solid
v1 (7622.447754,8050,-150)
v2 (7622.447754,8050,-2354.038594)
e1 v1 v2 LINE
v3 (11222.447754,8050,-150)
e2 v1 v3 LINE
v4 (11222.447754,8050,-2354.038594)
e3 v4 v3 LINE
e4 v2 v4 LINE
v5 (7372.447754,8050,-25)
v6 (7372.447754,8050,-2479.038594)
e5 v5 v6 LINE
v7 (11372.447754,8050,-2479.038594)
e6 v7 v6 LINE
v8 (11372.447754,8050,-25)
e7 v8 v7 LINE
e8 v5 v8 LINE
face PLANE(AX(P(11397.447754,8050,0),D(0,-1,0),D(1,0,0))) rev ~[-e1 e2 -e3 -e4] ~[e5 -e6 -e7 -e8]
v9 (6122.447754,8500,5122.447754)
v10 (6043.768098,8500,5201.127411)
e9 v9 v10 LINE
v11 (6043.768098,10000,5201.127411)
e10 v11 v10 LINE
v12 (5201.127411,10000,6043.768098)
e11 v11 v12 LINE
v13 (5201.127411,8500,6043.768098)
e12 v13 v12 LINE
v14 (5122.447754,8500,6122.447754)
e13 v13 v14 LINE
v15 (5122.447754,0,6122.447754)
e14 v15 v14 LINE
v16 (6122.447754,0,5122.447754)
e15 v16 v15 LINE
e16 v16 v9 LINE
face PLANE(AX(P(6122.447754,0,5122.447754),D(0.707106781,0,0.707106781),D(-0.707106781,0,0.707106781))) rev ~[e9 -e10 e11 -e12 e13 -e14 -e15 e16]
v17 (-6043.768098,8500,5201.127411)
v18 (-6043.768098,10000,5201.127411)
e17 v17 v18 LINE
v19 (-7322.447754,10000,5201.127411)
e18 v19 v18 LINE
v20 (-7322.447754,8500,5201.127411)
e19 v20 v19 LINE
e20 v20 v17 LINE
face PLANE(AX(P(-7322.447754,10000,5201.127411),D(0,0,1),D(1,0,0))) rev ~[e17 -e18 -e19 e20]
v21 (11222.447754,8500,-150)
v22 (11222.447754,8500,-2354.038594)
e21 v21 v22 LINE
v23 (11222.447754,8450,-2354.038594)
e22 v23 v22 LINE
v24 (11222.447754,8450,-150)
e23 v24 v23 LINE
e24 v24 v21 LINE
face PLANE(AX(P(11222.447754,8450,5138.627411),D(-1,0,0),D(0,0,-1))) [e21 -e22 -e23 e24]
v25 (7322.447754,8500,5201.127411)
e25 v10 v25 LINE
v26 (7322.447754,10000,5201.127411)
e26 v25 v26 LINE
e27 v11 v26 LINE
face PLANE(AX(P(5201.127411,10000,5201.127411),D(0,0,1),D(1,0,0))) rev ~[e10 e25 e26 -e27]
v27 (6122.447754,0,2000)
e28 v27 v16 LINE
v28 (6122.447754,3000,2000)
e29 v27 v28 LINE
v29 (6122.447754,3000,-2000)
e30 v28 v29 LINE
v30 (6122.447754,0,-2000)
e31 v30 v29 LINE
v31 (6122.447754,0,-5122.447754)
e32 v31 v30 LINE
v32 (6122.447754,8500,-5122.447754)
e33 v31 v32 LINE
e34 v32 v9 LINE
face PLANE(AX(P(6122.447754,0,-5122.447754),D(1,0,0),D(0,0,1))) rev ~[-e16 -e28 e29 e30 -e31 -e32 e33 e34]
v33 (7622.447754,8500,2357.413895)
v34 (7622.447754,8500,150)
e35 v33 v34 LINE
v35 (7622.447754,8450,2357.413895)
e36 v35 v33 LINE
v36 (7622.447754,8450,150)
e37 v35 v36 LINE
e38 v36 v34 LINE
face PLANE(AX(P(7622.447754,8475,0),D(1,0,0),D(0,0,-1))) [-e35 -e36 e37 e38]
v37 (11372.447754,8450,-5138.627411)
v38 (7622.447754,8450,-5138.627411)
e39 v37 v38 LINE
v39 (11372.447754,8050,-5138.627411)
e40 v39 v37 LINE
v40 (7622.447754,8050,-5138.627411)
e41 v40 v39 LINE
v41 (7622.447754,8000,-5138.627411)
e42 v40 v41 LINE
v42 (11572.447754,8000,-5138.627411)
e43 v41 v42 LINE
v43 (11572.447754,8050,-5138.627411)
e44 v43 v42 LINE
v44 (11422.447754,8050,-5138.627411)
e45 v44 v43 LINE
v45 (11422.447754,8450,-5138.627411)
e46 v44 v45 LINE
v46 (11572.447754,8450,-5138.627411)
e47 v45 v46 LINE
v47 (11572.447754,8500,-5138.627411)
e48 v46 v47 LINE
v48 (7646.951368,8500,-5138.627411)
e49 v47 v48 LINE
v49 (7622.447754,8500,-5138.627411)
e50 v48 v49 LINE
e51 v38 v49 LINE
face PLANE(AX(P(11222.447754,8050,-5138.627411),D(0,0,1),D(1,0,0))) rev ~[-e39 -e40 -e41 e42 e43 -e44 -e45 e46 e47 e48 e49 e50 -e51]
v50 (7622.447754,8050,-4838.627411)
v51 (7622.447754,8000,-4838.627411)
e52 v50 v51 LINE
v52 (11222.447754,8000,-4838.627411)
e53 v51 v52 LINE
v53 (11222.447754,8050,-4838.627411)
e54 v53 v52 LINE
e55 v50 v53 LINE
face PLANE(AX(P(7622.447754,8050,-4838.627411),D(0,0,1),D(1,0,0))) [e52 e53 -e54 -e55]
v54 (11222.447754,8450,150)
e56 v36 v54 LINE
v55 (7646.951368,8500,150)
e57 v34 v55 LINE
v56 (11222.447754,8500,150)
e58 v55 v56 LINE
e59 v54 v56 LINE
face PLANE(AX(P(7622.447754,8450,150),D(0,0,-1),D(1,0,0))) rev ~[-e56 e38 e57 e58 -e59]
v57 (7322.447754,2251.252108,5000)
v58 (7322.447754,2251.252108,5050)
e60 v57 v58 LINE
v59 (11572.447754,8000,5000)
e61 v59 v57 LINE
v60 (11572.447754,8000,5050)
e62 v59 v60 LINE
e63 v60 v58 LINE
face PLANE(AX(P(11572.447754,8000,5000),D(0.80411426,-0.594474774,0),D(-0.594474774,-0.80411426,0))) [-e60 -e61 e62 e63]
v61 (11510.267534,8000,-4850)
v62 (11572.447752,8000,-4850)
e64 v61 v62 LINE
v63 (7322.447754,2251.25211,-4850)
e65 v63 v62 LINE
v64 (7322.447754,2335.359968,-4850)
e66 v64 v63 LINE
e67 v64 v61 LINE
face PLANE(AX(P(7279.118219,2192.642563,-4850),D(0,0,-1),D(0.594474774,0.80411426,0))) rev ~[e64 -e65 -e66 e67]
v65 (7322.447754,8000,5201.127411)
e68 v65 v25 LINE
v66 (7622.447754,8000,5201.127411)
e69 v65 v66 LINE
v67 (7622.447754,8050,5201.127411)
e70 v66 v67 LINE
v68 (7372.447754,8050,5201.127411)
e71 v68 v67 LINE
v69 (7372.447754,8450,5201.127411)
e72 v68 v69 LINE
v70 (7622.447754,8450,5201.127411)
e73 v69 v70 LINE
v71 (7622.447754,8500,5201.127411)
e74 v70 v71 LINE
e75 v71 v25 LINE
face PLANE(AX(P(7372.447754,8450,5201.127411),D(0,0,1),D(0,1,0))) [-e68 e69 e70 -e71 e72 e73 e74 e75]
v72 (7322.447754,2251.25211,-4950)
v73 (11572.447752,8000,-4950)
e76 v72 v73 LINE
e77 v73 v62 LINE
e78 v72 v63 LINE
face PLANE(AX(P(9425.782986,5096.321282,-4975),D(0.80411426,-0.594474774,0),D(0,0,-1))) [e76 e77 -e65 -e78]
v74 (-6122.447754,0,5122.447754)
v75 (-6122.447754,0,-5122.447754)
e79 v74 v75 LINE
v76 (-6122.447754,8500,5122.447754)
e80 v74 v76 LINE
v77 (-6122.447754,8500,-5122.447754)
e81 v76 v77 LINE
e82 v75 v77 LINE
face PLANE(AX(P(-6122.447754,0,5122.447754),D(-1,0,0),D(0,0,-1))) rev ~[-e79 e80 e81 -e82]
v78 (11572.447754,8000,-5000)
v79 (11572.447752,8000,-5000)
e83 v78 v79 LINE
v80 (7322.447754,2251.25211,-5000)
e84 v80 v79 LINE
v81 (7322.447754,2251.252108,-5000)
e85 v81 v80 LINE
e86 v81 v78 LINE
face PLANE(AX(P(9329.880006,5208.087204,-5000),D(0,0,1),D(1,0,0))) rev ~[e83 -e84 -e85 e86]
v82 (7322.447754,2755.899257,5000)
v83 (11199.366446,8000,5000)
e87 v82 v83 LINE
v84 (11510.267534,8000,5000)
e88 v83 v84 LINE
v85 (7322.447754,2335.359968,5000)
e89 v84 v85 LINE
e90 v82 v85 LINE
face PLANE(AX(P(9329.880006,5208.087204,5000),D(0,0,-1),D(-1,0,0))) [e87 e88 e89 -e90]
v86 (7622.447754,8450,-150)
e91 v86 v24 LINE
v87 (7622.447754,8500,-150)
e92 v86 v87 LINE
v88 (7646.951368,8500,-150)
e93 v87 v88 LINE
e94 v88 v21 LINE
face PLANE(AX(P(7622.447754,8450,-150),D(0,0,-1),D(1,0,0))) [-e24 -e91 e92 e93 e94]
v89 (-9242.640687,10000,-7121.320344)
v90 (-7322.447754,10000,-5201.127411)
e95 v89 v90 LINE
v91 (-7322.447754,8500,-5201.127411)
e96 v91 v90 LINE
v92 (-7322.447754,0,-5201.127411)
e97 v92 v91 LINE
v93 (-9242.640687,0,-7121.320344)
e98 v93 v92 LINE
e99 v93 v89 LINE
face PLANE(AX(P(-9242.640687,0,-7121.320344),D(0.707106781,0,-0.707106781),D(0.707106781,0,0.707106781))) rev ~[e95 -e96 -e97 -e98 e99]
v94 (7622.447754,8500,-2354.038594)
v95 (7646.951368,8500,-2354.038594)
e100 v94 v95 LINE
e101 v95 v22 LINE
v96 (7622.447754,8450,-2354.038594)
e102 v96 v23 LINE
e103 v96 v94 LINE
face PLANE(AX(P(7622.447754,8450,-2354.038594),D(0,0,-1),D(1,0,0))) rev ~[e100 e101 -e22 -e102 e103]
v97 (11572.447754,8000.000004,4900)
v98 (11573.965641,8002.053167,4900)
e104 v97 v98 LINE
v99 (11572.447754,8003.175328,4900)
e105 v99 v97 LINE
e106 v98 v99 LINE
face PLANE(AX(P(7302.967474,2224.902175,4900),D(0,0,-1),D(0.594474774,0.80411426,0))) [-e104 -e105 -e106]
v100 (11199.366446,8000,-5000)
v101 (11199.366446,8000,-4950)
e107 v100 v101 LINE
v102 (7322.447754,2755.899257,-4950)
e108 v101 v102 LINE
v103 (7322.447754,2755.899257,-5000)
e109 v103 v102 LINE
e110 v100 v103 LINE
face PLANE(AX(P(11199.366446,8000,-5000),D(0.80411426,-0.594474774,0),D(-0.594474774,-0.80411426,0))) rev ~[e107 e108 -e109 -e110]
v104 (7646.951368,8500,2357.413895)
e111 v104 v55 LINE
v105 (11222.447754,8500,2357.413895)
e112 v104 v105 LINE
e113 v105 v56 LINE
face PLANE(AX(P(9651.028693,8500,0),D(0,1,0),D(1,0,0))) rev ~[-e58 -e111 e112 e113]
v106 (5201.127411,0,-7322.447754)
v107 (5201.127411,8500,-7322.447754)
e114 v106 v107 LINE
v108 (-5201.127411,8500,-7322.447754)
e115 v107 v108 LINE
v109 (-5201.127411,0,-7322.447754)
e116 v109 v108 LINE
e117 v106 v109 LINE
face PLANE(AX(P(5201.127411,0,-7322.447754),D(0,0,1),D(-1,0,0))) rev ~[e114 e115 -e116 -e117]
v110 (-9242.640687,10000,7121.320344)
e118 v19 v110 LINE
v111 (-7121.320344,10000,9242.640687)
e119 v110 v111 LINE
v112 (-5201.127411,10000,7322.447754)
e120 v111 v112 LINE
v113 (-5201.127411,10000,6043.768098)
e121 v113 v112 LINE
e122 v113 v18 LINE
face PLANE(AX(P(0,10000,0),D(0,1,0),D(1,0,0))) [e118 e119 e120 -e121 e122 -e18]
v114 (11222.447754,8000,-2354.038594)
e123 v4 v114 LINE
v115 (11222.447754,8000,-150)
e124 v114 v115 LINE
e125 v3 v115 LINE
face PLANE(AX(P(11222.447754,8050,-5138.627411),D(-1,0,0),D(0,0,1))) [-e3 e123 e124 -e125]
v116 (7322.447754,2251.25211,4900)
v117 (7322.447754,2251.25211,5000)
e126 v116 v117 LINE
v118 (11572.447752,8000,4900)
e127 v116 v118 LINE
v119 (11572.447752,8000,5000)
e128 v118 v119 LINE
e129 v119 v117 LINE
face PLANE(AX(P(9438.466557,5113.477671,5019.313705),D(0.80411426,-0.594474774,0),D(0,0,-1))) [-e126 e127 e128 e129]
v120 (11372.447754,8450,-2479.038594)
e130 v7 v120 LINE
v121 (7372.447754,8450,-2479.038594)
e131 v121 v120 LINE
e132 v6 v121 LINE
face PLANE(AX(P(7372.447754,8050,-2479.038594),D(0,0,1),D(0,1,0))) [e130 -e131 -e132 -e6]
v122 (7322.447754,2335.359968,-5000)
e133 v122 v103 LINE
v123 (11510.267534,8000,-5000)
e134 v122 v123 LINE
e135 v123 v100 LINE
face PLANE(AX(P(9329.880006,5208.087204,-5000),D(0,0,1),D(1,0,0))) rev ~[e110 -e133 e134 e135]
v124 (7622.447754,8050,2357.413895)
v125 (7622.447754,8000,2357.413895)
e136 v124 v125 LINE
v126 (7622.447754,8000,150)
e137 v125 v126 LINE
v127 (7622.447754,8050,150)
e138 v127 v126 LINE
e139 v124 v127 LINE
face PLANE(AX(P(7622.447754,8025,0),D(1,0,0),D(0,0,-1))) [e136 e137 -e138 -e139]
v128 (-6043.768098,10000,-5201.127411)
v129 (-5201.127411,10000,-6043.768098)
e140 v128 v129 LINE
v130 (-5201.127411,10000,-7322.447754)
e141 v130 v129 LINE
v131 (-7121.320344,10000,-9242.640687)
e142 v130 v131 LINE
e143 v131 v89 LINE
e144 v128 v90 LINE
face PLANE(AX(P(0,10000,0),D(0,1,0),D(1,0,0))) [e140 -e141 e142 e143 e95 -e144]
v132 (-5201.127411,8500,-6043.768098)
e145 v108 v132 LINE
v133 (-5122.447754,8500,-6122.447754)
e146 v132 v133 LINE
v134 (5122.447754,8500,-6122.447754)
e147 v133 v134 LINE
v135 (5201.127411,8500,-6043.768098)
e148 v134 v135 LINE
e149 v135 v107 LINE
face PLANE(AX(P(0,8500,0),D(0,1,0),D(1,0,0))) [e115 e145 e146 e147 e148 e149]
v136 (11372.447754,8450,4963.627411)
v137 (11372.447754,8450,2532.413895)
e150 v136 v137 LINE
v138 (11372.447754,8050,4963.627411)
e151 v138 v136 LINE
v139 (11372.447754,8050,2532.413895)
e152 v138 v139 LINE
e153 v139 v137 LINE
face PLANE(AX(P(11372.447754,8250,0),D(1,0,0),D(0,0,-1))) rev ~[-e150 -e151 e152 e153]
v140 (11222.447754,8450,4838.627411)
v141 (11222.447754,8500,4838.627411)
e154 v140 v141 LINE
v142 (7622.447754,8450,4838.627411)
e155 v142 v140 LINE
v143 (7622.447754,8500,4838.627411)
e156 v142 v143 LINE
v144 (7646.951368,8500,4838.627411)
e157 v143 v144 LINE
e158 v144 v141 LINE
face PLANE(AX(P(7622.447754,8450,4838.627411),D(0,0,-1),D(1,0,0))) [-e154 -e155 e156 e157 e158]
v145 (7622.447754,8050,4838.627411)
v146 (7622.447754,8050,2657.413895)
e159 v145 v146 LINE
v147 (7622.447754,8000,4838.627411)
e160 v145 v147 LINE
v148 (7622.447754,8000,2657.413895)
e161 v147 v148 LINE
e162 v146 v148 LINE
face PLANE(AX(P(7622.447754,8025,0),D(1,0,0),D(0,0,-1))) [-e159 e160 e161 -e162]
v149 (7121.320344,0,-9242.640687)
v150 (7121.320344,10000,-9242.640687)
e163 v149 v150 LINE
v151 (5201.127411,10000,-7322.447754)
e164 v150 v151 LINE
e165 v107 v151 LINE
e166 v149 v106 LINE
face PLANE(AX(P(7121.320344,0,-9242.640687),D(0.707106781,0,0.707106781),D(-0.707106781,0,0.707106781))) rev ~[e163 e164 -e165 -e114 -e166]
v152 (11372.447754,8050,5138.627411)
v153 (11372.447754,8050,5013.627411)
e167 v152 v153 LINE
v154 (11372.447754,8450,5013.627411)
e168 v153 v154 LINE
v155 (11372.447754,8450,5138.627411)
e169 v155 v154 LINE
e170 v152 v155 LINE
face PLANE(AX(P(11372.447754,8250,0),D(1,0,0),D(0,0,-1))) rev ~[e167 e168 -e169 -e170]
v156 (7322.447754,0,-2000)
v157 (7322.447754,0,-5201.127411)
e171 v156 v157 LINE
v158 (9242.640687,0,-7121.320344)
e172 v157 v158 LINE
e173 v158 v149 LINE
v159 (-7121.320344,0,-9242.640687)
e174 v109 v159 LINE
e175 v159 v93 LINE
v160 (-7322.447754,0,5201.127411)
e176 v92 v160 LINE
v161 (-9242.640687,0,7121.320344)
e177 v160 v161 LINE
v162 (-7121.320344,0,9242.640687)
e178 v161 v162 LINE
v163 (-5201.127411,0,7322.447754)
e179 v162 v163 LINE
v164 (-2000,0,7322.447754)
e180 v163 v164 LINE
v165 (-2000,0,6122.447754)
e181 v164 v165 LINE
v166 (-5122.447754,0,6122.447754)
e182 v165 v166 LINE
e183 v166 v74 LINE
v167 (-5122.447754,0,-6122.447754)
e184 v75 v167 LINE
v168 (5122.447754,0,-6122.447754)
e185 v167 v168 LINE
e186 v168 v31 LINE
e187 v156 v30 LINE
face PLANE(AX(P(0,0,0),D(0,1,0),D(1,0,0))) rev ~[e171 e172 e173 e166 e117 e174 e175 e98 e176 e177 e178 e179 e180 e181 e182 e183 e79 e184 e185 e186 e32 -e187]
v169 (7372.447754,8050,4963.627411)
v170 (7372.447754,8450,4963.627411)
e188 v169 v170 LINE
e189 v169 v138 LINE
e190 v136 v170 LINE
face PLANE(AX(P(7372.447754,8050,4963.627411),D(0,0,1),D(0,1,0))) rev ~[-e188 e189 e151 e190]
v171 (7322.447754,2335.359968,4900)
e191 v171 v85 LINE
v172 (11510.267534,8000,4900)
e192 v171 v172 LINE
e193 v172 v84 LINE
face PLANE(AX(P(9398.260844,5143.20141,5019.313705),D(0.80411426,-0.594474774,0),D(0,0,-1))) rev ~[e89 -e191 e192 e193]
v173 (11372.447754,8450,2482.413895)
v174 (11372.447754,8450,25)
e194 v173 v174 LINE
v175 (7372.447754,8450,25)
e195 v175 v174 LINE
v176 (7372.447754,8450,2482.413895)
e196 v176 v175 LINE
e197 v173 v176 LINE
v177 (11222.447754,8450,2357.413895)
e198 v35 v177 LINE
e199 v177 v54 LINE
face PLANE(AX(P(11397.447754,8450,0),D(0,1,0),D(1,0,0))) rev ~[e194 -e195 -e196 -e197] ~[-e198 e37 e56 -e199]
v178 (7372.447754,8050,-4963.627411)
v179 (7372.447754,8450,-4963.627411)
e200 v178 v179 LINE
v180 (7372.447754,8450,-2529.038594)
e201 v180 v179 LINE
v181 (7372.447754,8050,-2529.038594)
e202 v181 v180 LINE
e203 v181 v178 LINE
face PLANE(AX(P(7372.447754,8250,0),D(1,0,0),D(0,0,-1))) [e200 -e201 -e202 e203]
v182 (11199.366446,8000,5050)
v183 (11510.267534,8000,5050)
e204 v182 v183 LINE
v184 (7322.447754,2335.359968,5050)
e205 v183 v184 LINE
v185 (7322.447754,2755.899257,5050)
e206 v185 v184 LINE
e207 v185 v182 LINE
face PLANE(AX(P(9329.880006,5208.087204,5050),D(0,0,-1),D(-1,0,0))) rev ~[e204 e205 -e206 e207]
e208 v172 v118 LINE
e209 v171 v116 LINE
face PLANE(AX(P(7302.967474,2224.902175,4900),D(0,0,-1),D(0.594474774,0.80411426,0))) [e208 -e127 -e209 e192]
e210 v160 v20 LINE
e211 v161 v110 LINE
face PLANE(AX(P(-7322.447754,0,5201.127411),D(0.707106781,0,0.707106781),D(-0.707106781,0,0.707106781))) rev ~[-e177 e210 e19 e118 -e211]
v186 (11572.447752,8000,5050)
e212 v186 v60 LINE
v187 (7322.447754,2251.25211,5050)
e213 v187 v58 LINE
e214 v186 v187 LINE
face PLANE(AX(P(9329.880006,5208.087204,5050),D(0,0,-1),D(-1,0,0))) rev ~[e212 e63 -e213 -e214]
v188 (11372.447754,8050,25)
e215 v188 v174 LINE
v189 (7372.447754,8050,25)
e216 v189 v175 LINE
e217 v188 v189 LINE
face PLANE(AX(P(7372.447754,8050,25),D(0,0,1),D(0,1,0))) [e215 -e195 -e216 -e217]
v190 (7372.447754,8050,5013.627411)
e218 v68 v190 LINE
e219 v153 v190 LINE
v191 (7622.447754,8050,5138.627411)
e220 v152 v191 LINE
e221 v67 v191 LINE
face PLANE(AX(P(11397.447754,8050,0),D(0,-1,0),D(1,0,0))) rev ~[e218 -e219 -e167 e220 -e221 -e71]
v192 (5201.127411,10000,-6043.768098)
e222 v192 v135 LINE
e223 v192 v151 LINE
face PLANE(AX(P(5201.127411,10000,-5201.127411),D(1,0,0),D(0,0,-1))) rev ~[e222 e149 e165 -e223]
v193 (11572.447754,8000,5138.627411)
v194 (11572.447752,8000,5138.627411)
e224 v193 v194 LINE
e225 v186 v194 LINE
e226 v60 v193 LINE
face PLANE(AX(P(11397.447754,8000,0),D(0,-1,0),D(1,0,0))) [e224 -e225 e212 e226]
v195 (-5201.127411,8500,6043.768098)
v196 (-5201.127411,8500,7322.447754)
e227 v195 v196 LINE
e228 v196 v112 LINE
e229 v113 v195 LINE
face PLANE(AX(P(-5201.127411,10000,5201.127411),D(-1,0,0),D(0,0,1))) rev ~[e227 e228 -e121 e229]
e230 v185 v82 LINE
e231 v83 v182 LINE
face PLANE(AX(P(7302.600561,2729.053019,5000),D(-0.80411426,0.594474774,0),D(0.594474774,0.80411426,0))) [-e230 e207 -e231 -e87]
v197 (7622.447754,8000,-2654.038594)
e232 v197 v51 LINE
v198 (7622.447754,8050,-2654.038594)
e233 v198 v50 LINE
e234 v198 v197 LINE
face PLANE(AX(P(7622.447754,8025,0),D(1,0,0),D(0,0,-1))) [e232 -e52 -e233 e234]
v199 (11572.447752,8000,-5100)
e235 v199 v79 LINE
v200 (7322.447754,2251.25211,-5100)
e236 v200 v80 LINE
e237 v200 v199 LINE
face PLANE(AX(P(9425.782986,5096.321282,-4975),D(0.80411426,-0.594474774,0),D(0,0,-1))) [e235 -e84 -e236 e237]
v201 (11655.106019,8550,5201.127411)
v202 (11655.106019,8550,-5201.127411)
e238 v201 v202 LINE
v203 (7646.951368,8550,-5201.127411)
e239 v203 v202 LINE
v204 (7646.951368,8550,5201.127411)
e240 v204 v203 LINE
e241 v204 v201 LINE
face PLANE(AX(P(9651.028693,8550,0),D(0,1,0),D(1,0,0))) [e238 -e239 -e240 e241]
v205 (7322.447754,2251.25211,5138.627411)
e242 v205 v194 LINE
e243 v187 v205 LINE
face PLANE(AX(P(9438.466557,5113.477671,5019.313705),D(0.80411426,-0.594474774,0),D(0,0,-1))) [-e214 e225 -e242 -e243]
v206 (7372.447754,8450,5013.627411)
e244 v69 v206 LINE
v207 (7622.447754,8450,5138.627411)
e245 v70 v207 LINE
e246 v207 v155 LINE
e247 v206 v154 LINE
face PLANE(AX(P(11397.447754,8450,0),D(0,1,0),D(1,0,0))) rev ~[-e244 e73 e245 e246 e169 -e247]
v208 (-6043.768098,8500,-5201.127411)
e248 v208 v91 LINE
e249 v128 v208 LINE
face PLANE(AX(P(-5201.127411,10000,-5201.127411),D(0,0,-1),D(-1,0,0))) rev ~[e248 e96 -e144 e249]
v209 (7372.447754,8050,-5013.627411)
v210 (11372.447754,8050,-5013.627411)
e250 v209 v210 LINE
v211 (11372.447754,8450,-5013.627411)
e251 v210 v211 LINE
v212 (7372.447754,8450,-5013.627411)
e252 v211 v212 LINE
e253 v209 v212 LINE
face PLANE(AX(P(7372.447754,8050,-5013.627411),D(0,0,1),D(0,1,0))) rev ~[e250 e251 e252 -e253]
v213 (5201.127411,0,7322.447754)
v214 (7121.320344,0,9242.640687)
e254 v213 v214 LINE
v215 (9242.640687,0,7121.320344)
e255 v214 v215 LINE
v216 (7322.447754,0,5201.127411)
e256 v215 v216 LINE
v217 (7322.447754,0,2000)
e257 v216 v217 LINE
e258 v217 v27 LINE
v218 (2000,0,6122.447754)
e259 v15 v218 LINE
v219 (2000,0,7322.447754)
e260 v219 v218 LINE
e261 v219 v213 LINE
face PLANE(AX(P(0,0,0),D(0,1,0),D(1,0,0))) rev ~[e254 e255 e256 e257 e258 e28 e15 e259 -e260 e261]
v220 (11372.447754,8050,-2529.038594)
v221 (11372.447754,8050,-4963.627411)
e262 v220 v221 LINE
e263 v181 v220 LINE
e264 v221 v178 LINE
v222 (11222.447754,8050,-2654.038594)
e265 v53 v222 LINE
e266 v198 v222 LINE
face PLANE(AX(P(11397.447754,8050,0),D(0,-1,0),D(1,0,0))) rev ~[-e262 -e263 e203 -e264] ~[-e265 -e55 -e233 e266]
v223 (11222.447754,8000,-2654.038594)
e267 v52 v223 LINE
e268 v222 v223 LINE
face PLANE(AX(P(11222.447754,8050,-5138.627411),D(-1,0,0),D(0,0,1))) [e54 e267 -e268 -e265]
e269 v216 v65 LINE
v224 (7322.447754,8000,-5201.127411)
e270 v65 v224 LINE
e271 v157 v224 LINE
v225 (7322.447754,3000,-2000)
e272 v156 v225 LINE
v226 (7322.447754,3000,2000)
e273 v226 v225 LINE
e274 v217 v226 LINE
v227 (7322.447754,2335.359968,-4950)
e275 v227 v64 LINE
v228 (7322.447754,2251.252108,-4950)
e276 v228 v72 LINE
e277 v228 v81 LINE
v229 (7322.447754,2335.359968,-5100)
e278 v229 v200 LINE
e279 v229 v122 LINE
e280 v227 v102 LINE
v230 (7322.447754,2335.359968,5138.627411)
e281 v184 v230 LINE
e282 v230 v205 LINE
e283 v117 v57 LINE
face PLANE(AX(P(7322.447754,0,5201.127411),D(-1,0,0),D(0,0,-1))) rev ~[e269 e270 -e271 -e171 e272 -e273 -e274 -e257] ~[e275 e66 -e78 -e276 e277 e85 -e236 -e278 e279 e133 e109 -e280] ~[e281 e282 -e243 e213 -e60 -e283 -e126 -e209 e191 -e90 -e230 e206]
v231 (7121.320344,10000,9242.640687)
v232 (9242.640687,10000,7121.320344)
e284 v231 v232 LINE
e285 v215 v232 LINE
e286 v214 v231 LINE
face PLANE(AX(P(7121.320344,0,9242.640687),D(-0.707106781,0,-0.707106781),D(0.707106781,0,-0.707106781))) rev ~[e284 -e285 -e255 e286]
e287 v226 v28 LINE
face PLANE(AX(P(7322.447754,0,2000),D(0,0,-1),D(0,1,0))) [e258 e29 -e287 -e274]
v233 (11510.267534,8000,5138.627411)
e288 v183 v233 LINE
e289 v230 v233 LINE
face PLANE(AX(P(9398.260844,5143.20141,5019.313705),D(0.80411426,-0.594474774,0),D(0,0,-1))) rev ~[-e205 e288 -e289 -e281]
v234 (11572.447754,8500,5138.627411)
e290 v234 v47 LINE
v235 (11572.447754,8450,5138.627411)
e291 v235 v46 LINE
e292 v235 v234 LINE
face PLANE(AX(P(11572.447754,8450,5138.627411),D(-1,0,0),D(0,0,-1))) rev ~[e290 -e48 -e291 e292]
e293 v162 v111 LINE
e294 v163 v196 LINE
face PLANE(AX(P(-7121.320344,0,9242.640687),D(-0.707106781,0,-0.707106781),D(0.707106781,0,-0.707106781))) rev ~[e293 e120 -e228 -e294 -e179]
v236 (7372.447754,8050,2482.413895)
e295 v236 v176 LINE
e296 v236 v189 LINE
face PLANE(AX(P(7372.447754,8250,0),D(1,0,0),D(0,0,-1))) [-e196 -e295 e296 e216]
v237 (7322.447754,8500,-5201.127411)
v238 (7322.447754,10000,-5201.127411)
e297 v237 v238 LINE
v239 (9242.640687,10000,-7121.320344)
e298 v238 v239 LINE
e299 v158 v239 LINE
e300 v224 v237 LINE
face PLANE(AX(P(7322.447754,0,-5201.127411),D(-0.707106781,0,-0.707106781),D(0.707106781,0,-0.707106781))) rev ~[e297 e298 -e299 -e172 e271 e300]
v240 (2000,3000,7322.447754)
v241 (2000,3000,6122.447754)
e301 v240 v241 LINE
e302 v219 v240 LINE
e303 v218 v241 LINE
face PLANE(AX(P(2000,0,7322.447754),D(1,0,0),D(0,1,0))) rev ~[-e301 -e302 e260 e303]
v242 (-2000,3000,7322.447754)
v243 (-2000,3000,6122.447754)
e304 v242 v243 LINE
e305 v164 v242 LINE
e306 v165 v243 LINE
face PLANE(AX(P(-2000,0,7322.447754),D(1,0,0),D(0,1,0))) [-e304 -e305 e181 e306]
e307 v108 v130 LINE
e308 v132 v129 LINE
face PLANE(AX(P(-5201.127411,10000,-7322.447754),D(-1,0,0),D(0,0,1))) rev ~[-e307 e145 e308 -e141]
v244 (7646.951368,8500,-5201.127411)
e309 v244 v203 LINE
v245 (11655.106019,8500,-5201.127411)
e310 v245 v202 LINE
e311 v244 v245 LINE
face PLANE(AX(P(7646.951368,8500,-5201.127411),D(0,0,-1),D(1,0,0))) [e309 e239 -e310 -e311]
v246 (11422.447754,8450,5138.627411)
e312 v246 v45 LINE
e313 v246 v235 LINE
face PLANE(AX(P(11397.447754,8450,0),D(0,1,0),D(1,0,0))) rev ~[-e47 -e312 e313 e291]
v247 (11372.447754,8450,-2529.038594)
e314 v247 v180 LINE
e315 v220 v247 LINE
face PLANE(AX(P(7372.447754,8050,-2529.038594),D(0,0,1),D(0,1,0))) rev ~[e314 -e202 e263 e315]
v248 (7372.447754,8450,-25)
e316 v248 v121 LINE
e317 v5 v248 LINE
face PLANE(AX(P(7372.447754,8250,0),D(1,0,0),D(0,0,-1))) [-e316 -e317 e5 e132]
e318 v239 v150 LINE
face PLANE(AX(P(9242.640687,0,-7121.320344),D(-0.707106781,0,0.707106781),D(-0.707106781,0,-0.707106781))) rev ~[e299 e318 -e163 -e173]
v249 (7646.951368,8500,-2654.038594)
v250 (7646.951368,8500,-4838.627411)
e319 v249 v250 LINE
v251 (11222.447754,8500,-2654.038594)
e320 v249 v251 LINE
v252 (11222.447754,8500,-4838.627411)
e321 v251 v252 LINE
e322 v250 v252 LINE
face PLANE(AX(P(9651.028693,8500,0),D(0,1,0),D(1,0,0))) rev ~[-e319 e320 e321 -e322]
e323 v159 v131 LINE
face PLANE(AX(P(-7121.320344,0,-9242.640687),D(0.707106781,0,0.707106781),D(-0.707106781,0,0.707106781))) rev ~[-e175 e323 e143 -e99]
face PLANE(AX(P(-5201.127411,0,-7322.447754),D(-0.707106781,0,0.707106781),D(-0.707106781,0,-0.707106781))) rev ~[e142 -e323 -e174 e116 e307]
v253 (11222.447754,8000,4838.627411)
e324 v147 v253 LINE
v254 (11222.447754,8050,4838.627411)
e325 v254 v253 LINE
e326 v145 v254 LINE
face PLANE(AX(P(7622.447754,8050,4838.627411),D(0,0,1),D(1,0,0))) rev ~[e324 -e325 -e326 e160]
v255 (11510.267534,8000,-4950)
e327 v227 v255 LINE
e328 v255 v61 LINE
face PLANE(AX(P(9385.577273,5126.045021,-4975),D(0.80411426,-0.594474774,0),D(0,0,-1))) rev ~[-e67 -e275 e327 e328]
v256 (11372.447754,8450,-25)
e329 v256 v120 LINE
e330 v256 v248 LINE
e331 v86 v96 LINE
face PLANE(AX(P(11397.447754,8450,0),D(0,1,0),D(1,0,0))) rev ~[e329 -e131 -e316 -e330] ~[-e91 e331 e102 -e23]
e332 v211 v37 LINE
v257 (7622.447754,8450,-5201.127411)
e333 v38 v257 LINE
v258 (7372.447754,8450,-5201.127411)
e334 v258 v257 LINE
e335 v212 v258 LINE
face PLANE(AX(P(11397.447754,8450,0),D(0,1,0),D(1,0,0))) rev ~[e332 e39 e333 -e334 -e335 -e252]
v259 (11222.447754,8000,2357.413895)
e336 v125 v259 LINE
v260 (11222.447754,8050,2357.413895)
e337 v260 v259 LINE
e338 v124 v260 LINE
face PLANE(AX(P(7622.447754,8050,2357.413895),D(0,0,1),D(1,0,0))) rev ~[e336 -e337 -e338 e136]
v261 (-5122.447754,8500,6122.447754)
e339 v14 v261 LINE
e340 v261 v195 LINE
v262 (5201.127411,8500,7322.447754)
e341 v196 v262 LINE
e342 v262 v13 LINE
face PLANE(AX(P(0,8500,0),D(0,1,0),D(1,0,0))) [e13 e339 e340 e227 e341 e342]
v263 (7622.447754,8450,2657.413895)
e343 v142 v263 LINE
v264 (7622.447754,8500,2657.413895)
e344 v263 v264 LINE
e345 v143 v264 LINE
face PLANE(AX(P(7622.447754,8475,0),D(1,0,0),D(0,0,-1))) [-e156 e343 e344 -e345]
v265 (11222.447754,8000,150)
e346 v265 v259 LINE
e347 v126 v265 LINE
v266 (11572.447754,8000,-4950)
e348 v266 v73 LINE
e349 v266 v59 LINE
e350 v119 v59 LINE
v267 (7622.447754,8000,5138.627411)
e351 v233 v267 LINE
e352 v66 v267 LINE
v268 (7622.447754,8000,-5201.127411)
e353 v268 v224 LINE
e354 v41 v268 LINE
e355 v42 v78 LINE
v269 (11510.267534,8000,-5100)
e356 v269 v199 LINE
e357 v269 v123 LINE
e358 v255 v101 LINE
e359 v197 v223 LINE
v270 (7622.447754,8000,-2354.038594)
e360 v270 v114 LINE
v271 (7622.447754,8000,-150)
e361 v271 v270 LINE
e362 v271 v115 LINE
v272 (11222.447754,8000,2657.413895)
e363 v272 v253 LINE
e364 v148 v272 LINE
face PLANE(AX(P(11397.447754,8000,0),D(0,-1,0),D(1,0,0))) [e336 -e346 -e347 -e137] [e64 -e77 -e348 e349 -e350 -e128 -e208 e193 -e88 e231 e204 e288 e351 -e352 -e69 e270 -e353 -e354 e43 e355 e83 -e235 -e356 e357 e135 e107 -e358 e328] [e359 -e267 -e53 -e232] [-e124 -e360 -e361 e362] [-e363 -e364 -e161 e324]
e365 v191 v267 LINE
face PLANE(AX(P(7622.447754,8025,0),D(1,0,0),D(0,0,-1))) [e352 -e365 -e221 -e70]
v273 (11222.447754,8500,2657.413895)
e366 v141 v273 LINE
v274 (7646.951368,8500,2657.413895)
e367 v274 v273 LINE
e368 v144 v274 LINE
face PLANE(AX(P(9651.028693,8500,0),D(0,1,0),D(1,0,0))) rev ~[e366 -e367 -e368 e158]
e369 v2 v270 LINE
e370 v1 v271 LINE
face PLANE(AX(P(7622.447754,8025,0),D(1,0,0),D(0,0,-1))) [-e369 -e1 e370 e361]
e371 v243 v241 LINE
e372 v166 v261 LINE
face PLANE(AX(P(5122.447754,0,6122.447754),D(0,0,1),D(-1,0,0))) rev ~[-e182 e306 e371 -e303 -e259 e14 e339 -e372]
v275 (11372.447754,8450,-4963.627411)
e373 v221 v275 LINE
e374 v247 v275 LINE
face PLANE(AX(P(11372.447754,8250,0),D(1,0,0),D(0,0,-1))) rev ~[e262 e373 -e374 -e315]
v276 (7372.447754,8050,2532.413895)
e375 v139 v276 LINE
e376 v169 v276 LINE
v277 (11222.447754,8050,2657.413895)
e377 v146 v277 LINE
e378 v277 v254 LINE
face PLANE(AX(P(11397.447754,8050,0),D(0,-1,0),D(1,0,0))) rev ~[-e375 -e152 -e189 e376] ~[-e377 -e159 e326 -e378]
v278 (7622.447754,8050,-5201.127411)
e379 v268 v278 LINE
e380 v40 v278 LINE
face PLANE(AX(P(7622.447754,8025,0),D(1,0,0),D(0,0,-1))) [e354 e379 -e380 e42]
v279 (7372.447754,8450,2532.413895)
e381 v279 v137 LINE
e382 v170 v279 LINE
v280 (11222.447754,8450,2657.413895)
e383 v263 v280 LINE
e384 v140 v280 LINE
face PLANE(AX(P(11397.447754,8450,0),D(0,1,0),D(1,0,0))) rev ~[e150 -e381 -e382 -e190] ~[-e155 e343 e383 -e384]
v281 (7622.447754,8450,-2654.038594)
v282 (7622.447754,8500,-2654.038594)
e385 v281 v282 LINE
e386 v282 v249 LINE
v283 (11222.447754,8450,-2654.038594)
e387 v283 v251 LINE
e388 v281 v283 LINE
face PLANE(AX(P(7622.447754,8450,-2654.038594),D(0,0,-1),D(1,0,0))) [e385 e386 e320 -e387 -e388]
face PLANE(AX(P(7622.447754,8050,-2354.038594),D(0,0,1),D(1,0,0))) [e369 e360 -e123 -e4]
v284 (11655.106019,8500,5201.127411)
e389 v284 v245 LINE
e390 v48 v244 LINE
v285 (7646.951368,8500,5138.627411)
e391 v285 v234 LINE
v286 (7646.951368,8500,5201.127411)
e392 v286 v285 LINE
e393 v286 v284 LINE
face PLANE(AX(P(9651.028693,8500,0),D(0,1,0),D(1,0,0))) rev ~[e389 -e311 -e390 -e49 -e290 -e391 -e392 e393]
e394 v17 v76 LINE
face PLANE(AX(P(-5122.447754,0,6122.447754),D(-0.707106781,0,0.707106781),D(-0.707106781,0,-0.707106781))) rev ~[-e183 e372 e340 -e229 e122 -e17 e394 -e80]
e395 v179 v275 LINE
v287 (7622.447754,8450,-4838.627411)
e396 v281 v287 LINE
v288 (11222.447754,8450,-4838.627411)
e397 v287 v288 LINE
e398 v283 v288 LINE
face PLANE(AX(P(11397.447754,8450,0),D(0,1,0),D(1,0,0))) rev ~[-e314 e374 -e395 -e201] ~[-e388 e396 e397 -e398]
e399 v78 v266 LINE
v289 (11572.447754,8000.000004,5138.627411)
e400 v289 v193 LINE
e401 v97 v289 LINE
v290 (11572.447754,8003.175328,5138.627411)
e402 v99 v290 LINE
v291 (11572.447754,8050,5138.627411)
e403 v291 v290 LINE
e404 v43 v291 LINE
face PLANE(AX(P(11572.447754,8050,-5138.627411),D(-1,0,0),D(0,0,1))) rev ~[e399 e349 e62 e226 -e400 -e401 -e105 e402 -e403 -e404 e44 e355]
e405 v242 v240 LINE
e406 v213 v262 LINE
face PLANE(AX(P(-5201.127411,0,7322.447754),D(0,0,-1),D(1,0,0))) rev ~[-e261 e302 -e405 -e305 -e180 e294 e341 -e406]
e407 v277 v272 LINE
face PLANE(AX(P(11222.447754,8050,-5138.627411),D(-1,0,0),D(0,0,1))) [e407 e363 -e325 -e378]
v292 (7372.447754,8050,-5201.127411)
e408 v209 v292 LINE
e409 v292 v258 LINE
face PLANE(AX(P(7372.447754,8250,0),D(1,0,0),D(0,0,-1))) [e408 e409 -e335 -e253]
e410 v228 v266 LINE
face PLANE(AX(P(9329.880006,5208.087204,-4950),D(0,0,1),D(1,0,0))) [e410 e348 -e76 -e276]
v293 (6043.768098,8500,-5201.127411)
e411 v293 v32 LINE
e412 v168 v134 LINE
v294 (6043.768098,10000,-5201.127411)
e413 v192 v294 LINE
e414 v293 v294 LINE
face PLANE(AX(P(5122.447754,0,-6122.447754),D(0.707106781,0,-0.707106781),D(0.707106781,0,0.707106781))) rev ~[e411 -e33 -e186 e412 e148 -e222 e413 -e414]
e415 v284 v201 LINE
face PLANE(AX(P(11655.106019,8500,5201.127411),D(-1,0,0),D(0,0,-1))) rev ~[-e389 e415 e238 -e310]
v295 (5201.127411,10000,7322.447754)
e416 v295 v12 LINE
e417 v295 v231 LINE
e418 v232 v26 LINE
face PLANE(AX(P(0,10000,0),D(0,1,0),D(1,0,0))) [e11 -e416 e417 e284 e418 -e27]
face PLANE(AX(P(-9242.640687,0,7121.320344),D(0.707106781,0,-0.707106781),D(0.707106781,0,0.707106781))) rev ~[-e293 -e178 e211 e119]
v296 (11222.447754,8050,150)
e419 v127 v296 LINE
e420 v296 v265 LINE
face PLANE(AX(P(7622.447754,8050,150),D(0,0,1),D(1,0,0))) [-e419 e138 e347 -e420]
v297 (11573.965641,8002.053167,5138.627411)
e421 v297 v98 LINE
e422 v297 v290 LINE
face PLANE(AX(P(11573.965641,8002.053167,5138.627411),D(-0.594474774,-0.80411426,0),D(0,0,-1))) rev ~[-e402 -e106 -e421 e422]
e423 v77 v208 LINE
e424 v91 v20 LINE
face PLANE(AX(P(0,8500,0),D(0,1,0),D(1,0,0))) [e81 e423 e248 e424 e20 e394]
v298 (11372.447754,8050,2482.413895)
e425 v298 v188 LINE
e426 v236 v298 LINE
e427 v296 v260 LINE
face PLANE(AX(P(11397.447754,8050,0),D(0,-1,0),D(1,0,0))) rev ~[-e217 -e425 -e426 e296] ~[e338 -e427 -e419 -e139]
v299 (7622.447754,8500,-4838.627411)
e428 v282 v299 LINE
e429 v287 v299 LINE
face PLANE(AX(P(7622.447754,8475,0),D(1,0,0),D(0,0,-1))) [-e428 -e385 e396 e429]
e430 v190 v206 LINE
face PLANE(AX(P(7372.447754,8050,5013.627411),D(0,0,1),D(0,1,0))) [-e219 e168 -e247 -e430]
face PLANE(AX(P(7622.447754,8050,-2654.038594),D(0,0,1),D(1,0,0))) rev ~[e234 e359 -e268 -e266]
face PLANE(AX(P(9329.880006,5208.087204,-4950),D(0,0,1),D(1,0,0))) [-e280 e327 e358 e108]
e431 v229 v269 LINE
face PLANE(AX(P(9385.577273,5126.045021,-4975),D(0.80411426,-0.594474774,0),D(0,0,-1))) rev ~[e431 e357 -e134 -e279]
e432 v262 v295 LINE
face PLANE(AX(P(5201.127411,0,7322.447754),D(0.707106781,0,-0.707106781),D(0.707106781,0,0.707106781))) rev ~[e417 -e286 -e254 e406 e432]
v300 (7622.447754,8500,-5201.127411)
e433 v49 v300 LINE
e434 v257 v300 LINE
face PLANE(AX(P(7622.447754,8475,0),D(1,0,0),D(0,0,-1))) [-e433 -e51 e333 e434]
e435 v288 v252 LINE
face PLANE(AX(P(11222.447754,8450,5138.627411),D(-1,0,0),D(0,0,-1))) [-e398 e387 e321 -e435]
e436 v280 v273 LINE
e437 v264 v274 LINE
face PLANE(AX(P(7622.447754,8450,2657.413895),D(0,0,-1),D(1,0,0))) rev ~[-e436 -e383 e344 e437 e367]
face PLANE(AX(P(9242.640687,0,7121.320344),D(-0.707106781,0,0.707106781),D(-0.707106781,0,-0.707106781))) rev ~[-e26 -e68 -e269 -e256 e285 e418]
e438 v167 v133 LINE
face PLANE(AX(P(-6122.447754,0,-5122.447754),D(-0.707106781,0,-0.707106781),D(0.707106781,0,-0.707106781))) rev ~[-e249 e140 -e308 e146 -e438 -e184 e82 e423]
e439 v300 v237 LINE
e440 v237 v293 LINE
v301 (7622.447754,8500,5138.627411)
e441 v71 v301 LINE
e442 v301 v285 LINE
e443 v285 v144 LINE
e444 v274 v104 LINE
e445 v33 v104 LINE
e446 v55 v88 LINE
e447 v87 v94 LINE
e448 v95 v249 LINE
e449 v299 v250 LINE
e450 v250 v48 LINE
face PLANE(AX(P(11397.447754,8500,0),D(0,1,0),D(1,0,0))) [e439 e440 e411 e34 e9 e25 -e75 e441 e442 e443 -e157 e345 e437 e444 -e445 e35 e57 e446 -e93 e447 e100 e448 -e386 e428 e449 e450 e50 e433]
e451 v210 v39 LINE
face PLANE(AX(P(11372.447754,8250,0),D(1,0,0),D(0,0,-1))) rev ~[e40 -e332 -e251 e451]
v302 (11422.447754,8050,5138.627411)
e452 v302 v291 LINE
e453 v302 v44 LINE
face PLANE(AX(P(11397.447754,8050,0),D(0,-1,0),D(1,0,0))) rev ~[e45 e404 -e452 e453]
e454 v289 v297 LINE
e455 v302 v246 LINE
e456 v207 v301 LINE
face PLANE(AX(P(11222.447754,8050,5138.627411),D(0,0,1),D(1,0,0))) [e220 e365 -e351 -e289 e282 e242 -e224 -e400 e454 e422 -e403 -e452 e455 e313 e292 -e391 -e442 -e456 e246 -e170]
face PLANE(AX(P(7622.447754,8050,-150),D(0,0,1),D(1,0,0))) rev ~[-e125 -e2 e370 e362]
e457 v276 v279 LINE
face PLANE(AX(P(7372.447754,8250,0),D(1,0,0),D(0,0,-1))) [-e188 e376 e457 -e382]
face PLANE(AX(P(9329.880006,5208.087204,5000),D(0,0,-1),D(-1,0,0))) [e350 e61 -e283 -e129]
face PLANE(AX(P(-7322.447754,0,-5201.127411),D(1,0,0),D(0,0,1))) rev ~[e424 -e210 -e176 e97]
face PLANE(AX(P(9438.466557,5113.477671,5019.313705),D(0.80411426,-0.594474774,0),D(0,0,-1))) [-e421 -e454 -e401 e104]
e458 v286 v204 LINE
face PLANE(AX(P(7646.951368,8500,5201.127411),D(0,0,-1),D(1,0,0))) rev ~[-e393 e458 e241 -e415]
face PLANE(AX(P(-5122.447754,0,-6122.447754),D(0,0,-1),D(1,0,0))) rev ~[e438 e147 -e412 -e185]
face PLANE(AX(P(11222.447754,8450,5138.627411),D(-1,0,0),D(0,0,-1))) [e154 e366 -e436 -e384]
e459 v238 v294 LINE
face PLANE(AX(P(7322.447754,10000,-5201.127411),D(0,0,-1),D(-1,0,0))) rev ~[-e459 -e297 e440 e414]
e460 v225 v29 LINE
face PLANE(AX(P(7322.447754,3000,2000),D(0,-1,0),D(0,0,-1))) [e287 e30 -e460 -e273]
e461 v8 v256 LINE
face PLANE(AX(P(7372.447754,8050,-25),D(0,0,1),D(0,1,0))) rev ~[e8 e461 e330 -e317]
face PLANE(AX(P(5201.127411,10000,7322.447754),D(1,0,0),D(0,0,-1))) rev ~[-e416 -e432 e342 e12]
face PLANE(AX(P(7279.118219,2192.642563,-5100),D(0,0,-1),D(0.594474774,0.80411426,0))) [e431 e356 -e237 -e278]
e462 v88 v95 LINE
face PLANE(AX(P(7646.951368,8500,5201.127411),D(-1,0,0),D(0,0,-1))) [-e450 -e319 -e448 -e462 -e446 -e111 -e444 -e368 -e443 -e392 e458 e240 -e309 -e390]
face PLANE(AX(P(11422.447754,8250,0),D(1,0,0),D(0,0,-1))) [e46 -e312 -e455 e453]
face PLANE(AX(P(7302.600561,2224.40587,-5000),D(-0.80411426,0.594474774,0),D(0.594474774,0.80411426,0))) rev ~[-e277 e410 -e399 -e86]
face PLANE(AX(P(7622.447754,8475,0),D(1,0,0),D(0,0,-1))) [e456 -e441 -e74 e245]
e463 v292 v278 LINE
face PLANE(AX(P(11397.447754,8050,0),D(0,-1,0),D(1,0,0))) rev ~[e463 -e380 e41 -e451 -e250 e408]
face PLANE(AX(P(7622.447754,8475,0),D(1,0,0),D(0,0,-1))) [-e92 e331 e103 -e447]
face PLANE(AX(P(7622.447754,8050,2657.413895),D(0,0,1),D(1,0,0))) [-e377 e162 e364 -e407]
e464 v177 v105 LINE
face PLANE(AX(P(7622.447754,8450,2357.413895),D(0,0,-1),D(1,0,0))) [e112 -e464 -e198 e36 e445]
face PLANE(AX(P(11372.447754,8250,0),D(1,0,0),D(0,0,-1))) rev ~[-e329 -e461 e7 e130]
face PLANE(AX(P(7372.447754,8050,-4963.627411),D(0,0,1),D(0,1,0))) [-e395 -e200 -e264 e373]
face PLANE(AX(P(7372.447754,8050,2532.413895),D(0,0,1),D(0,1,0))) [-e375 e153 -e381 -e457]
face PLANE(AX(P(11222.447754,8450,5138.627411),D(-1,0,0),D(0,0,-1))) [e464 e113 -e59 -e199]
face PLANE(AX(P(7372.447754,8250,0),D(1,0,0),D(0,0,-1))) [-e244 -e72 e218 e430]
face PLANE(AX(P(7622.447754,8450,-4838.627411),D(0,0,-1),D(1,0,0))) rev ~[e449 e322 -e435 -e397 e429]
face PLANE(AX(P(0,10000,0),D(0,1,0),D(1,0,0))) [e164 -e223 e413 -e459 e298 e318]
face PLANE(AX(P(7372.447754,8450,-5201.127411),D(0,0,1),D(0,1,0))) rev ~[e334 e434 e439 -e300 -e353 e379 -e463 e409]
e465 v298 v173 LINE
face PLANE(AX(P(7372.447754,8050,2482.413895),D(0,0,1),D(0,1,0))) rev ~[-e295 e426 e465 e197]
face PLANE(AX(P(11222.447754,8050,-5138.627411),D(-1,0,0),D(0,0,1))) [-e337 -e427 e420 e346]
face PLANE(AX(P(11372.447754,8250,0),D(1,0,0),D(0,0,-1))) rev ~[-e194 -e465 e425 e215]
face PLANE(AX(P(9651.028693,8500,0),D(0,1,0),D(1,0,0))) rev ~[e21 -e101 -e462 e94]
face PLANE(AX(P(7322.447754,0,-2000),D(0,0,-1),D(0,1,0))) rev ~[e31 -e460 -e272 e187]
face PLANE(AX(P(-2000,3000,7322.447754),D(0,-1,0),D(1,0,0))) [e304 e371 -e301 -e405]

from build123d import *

# Parameters (mm, degrees)
BOSS_EXTRUDE1_DEPTH  = 10000
CUT_EXTRUDE3_DEPTH   = 1500
SKETCH5_W            = 4000
SKETCH5_H            = 3000
CUT_EXTRUDE4_DEPTH   = 1353
SKETCH6_W            = 4000
SKETCH6_H            = 3000
CUT_EXTRUDE5_DEPTH   = 1353
SKETCH7_W            = 10402.254821559
SKETCH7_H            = 500
BOSS_EXTRUDE2_DEPTH  = 50
SKETCH8_W            = 10402.254821559
SKETCH8_H            = 50
BOSS_EXTRUDE3_DEPTH  = 250
SKETCH9_W            = 50
SKETCH9_H            = 400
BOSS_EXTRUDE4_DEPTH  = 4000
SKETCH10_W           = 3600
SKETCH10_H           = 300
BOSS_EXTRUDE5_DEPTH  = 50
SKETCH11_W           = 3600
SKETCH11_H           = 300
BOSS_EXTRUDE6_DEPTH  = 50
SKETCH12_W           = 10277.25482156
SKETCH12_H           = 400
BOSS_EXTRUDE7_DEPTH  = 50
SKETCH13_W           = 350
SKETCH13_H           = 10277.254821559
BOSS_EXTRUDE8_DEPTH  = 50
SKETCH15_W           = 4008.15465075
SKETCH15_H           = 10402.254821559
BOSS_EXTRUDE11_DEPTH = 50
SKETCH14_W           = 350
SKETCH14_H           = 10277.25482156
BOSS_EXTRUDE9_DEPTH  = 50
BOSS_EXTRUDE12_DEPTH = 50
SKETCH17_W           = 238.62741078
SKETCH17_H           = 7184.490164885
BOSS_EXTRUDE17_DEPTH = 50
BOSS_EXTRUDE18_DEPTH = 50
SKETCH19_W           = 250
SKETCH19_H           = 7222.055032397
BOSS_EXTRUDE20_DEPTH = 50


with BuildPart() as part:
    # Sketch1 → Boss-Extrude1 (new body)
    with BuildSketch(Plane(origin=(0, 0, 0), x_dir=(1, 0, 0), z_dir=(0, 1, 0))):
        Polygon((-5000, 7121.320343559), (-7121.32034356, 5000), (-7322.447754339, 5201.127410779), (-7322.447754339, -5201.127410779), (-7121.32034356, -5000), (-5000, -7121.320343559), (-5201.12741078, -7322.447754339), (5201.12741078, -7322.447754339), (5000, -7121.320343559), (7121.320343559, -5000), (7322.447754339, -5201.12741078), (7322.447754339, 5201.12741078), (7121.320343559, 5000), (5000, 7121.320343559), (5201.12741078, 7322.447754339), (-5201.12741078, 7322.447754339), align=None)
        Polygon((-5122.447754339, 6122.447754339), (5122.447754339, 6122.447754339), (6122.447754339, 5122.447754339), (6122.447754339, -5122.447754339), (5122.447754339, -6122.447754339), (-5122.447754339, -6122.447754339), (-6122.447754339, -5122.447754339), (-6122.447754339, 5122.447754339), align=None, mode=Mode.SUBTRACT)
        Polygon((7322.447754339, 7322.447754339), (5201.12741078, 7322.447754339), (5000, 7121.320343559), (7121.320343559, 5000), (7322.447754339, 5201.12741078), align=None)
        Polygon((-7322.447754339, 5201.127410779), (-7121.32034356, 5000), (-5000, 7121.320343559), (-5201.12741078, 7322.447754339), (-7322.447754339, 7322.447754339), align=None)
        Polygon((-7121.32034356, -5000), (-7322.447754339, -5201.127410779), (-7322.447754339, -7322.447754339), (-5201.12741078, -7322.447754339), (-5000, -7121.320343559), align=None)
        Polygon((5000, -7121.320343559), (5201.12741078, -7322.447754339), (7322.447754339, -7322.447754339), (7322.447754339, -5201.12741078), (7121.320343559, -5000), align=None)
        Polygon((7322.447754339, -7322.447754339), (5201.12741078, -7322.447754339), (7121.320343559, -9242.640687119), (9242.640687119, -7121.320343559), (7322.447754339, -5201.12741078), align=None)
        Polygon((7121.320343559, 9242.640687119), (5201.12741078, 7322.447754339), (7322.447754339, 7322.447754339), (7322.447754339, 5201.12741078), (9242.640687119, 7121.320343559), align=None)
        Polygon((-9242.64068712, 7121.320343559), (-7322.447754339, 5201.127410779), (-7322.447754339, 7322.447754339), (-5201.12741078, 7322.447754339), (-7121.32034356, 9242.640687119), align=None)
        Polygon((-7322.447754339, -7322.447754339), (-7322.447754339, -5201.127410779), (-9242.64068712, -7121.320343559), (-7121.32034356, -9242.640687119), (-5201.12741078, -7322.447754339), align=None)
    extrude(amount=BOSS_EXTRUDE1_DEPTH)

    # Sketch4 → Cut-Extrude3 (cut)
    with BuildSketch(Plane(origin=(0, 10000, 0), x_dir=(1, 0, 0), z_dir=(0, 1, 0))):
        Polygon((-5201.12741078, -5201.12741078), (-5201.12741078, -7322.447754339), (5201.12741078, -7322.447754339), (5201.12741078, -5201.12741078), (7322.447754339, -5201.12741078), (7322.447754339, 5201.127410779), (5201.12741078, 5201.127410779), (5201.12741078, 7322.447754339), (-5201.12741078, 7322.447754339), (-5201.12741078, 5201.127410779), (-7322.447754339, 5201.127410779), (-7322.447754339, -5201.12741078), align=None)
    extrude(amount=-CUT_EXTRUDE3_DEPTH, mode=Mode.SUBTRACT)

    # Sketch5 → Cut-Extrude4 (cut)
    with BuildSketch(Plane.XY.offset(7322.447754339)):
        with Locations((0, 1500)):
            Rectangle(SKETCH5_W, SKETCH5_H)
    extrude(amount=-CUT_EXTRUDE4_DEPTH, mode=Mode.SUBTRACT)

    # Sketch6 → Cut-Extrude5 (cut)
    with BuildSketch(Plane(origin=(7322.447754339, 0, 0), x_dir=(0, 0, -1), z_dir=(1, 0, 0))):
        with Locations((0, 1500)):
            Rectangle(SKETCH6_W, SKETCH6_H)
    extrude(amount=-CUT_EXTRUDE5_DEPTH, mode=Mode.SUBTRACT)

    # Sketch7 → Boss-Extrude2 (add)
    with BuildSketch(Plane(origin=(7322.447754339, 0, 0), x_dir=(0, 0, -1), z_dir=(1, 0, 0))):
        with Locations((0, 8250)):
            Rectangle(SKETCH7_W, SKETCH7_H)
    extrude(amount=BOSS_EXTRUDE2_DEPTH)

    # Sketch8 → Boss-Extrude3 (add)
    with BuildSketch(Plane(origin=(7372.447754339, 0, 0), x_dir=(0, 0, -1), z_dir=(1, 0, 0))):
        with Locations((0, 8475)):
            Rectangle(SKETCH8_W, SKETCH8_H)
        with Locations((0, 8025)):
            Rectangle(SKETCH8_W, SKETCH8_H)
    extrude(amount=BOSS_EXTRUDE3_DEPTH)

    # Sketch9 → Boss-Extrude4 (add)
    with BuildSketch(Plane(origin=(7372.447754339, 0, 0), x_dir=(0, 0, -1), z_dir=(1, 0, 0))):
        with Locations((-4988.62741078, 8250)):
            Rectangle(SKETCH9_W, SKETCH9_H)
        with Locations((4988.62741078, 8250)):
            Rectangle(SKETCH9_W, SKETCH9_H)
        with Locations((0, 8250)):
            Rectangle(SKETCH9_W, SKETCH9_H)
        with Locations((2504.038593718, 8250)):
            Rectangle(SKETCH9_W, SKETCH9_H)
        with Locations((-2507.41389495, 8250)):
            Rectangle(SKETCH9_W, SKETCH9_H)
    extrude(amount=BOSS_EXTRUDE4_DEPTH)

    # Sketch10 → Boss-Extrude5 (add)
    with BuildSketch(Plane(origin=(0, 8450, 0), x_dir=(1, 0, 0), z_dir=(0, 1, 0))):
        with Locations((9422.447754339, 4988.62741078)):
            Rectangle(SKETCH10_W, SKETCH10_H)
        with Locations((9422.447754339, 2504.038593718)):
            Rectangle(SKETCH10_W, SKETCH10_H)
        with Locations((9422.447754339, 0)):
            Rectangle(SKETCH10_W, SKETCH10_H)
        with Locations((9422.447754339, -2507.41389495)):
            Rectangle(SKETCH10_W, SKETCH10_H)
        with Locations((9422.447754339, -4988.62741078)):
            Rectangle(SKETCH10_W, SKETCH10_H)
    extrude(amount=BOSS_EXTRUDE5_DEPTH)

    # Sketch11 → Boss-Extrude6 (add)
    with BuildSketch(Plane.XZ.offset(-8050)):
        with Locations((9422.447754339, -4988.62741078)):
            Rectangle(SKETCH11_W, SKETCH11_H)
        with Locations((9422.447754339, -2504.038593718)):
            Rectangle(SKETCH11_W, SKETCH11_H)
        with Locations((9422.447754339, 0)):
            Rectangle(SKETCH11_W, SKETCH11_H)
        with Locations((9422.447754339, 2507.41389495)):
            Rectangle(SKETCH11_W, SKETCH11_H)
        with Locations((9422.447754339, 4988.62741078)):
            Rectangle(SKETCH11_W, SKETCH11_H)
    extrude(amount=BOSS_EXTRUDE6_DEPTH)

    # Sketch12 → Boss-Extrude7 (add)
    with BuildSketch(Plane(origin=(11372.447754339, 0, 0), x_dir=(0, 0, -1), z_dir=(1, 0, 0))):
        with Locations((0, 8250)):
            Rectangle(SKETCH12_W, SKETCH12_H)
    extrude(amount=BOSS_EXTRUDE7_DEPTH)

    # Sketch13 → Boss-Extrude8 (add)
    with BuildSketch(Plane(origin=(0, 8450, 0), x_dir=(1, 0, 0), z_dir=(0, 1, 0))):
        with Locations((11397.447754339, 0)):
            Rectangle(SKETCH13_W, SKETCH13_H)
    extrude(amount=BOSS_EXTRUDE8_DEPTH)

    # Sketch15 → Boss-Extrude11 (add)
    with BuildSketch(Plane(origin=(0, 8500, 0), x_dir=(1, 0, 0), z_dir=(0, 1, 0))):
        with Locations((9651.028693309, 0)):
            Rectangle(SKETCH15_W, SKETCH15_H)
    extrude(amount=BOSS_EXTRUDE11_DEPTH)

    # Sketch14 → Boss-Extrude9 (add)
    with BuildSketch(Plane.XZ.offset(-8050)):
        with Locations((11397.447754339, 0)):
            Rectangle(SKETCH14_W, SKETCH14_H)
    extrude(amount=BOSS_EXTRUDE9_DEPTH)

    # Sketch16 → Boss-Extrude12 (add)
    with BuildSketch(Plane.XY.offset(5000)):
        Polygon((11572.447754339, 8000), (7302.600560807, 2224.405870044), (7302.600560807, 2729.053019193), (11199.36644616, 8000), align=None)
    extrude(amount=BOSS_EXTRUDE12_DEPTH)

    # Sketch17 → Boss-Extrude17 (add)
    with BuildSketch(Plane(origin=(3658.536599047, -2704.724722406, 0), x_dir=(0, 0, -1), z_dir=(0.80411426, -0.594474774, 0))):
        with Locations((-5019.31370539, 9722.750587537)):
            Rectangle(SKETCH17_W, SKETCH17_H)
    extrude(amount=-BOSS_EXTRUDE17_DEPTH)

    # Sketch18 → Boss-Extrude18 (add)
    with BuildSketch(Plane.XY.offset(-5000)):
        Polygon((11199.36644616, 8000), (7302.600560807, 2729.053019193), (7302.600560807, 2224.405870044), (11572.447754339, 8000), align=None)
    extrude(amount=BOSS_EXTRUDE18_DEPTH)

    # Sketch19 → Boss-Extrude20 (add)
    with BuildSketch(Plane(origin=(3658.536599047, -2704.724722406, 0), x_dir=(0, 0, -1), z_dir=(0.80411426, -0.594474774, 0))):
        with Locations((4975, 9701.414827578)):
            Rectangle(SKETCH19_W, SKETCH19_H)
    extrude(amount=-BOSS_EXTRUDE20_DEPTH)


solid = part.part
